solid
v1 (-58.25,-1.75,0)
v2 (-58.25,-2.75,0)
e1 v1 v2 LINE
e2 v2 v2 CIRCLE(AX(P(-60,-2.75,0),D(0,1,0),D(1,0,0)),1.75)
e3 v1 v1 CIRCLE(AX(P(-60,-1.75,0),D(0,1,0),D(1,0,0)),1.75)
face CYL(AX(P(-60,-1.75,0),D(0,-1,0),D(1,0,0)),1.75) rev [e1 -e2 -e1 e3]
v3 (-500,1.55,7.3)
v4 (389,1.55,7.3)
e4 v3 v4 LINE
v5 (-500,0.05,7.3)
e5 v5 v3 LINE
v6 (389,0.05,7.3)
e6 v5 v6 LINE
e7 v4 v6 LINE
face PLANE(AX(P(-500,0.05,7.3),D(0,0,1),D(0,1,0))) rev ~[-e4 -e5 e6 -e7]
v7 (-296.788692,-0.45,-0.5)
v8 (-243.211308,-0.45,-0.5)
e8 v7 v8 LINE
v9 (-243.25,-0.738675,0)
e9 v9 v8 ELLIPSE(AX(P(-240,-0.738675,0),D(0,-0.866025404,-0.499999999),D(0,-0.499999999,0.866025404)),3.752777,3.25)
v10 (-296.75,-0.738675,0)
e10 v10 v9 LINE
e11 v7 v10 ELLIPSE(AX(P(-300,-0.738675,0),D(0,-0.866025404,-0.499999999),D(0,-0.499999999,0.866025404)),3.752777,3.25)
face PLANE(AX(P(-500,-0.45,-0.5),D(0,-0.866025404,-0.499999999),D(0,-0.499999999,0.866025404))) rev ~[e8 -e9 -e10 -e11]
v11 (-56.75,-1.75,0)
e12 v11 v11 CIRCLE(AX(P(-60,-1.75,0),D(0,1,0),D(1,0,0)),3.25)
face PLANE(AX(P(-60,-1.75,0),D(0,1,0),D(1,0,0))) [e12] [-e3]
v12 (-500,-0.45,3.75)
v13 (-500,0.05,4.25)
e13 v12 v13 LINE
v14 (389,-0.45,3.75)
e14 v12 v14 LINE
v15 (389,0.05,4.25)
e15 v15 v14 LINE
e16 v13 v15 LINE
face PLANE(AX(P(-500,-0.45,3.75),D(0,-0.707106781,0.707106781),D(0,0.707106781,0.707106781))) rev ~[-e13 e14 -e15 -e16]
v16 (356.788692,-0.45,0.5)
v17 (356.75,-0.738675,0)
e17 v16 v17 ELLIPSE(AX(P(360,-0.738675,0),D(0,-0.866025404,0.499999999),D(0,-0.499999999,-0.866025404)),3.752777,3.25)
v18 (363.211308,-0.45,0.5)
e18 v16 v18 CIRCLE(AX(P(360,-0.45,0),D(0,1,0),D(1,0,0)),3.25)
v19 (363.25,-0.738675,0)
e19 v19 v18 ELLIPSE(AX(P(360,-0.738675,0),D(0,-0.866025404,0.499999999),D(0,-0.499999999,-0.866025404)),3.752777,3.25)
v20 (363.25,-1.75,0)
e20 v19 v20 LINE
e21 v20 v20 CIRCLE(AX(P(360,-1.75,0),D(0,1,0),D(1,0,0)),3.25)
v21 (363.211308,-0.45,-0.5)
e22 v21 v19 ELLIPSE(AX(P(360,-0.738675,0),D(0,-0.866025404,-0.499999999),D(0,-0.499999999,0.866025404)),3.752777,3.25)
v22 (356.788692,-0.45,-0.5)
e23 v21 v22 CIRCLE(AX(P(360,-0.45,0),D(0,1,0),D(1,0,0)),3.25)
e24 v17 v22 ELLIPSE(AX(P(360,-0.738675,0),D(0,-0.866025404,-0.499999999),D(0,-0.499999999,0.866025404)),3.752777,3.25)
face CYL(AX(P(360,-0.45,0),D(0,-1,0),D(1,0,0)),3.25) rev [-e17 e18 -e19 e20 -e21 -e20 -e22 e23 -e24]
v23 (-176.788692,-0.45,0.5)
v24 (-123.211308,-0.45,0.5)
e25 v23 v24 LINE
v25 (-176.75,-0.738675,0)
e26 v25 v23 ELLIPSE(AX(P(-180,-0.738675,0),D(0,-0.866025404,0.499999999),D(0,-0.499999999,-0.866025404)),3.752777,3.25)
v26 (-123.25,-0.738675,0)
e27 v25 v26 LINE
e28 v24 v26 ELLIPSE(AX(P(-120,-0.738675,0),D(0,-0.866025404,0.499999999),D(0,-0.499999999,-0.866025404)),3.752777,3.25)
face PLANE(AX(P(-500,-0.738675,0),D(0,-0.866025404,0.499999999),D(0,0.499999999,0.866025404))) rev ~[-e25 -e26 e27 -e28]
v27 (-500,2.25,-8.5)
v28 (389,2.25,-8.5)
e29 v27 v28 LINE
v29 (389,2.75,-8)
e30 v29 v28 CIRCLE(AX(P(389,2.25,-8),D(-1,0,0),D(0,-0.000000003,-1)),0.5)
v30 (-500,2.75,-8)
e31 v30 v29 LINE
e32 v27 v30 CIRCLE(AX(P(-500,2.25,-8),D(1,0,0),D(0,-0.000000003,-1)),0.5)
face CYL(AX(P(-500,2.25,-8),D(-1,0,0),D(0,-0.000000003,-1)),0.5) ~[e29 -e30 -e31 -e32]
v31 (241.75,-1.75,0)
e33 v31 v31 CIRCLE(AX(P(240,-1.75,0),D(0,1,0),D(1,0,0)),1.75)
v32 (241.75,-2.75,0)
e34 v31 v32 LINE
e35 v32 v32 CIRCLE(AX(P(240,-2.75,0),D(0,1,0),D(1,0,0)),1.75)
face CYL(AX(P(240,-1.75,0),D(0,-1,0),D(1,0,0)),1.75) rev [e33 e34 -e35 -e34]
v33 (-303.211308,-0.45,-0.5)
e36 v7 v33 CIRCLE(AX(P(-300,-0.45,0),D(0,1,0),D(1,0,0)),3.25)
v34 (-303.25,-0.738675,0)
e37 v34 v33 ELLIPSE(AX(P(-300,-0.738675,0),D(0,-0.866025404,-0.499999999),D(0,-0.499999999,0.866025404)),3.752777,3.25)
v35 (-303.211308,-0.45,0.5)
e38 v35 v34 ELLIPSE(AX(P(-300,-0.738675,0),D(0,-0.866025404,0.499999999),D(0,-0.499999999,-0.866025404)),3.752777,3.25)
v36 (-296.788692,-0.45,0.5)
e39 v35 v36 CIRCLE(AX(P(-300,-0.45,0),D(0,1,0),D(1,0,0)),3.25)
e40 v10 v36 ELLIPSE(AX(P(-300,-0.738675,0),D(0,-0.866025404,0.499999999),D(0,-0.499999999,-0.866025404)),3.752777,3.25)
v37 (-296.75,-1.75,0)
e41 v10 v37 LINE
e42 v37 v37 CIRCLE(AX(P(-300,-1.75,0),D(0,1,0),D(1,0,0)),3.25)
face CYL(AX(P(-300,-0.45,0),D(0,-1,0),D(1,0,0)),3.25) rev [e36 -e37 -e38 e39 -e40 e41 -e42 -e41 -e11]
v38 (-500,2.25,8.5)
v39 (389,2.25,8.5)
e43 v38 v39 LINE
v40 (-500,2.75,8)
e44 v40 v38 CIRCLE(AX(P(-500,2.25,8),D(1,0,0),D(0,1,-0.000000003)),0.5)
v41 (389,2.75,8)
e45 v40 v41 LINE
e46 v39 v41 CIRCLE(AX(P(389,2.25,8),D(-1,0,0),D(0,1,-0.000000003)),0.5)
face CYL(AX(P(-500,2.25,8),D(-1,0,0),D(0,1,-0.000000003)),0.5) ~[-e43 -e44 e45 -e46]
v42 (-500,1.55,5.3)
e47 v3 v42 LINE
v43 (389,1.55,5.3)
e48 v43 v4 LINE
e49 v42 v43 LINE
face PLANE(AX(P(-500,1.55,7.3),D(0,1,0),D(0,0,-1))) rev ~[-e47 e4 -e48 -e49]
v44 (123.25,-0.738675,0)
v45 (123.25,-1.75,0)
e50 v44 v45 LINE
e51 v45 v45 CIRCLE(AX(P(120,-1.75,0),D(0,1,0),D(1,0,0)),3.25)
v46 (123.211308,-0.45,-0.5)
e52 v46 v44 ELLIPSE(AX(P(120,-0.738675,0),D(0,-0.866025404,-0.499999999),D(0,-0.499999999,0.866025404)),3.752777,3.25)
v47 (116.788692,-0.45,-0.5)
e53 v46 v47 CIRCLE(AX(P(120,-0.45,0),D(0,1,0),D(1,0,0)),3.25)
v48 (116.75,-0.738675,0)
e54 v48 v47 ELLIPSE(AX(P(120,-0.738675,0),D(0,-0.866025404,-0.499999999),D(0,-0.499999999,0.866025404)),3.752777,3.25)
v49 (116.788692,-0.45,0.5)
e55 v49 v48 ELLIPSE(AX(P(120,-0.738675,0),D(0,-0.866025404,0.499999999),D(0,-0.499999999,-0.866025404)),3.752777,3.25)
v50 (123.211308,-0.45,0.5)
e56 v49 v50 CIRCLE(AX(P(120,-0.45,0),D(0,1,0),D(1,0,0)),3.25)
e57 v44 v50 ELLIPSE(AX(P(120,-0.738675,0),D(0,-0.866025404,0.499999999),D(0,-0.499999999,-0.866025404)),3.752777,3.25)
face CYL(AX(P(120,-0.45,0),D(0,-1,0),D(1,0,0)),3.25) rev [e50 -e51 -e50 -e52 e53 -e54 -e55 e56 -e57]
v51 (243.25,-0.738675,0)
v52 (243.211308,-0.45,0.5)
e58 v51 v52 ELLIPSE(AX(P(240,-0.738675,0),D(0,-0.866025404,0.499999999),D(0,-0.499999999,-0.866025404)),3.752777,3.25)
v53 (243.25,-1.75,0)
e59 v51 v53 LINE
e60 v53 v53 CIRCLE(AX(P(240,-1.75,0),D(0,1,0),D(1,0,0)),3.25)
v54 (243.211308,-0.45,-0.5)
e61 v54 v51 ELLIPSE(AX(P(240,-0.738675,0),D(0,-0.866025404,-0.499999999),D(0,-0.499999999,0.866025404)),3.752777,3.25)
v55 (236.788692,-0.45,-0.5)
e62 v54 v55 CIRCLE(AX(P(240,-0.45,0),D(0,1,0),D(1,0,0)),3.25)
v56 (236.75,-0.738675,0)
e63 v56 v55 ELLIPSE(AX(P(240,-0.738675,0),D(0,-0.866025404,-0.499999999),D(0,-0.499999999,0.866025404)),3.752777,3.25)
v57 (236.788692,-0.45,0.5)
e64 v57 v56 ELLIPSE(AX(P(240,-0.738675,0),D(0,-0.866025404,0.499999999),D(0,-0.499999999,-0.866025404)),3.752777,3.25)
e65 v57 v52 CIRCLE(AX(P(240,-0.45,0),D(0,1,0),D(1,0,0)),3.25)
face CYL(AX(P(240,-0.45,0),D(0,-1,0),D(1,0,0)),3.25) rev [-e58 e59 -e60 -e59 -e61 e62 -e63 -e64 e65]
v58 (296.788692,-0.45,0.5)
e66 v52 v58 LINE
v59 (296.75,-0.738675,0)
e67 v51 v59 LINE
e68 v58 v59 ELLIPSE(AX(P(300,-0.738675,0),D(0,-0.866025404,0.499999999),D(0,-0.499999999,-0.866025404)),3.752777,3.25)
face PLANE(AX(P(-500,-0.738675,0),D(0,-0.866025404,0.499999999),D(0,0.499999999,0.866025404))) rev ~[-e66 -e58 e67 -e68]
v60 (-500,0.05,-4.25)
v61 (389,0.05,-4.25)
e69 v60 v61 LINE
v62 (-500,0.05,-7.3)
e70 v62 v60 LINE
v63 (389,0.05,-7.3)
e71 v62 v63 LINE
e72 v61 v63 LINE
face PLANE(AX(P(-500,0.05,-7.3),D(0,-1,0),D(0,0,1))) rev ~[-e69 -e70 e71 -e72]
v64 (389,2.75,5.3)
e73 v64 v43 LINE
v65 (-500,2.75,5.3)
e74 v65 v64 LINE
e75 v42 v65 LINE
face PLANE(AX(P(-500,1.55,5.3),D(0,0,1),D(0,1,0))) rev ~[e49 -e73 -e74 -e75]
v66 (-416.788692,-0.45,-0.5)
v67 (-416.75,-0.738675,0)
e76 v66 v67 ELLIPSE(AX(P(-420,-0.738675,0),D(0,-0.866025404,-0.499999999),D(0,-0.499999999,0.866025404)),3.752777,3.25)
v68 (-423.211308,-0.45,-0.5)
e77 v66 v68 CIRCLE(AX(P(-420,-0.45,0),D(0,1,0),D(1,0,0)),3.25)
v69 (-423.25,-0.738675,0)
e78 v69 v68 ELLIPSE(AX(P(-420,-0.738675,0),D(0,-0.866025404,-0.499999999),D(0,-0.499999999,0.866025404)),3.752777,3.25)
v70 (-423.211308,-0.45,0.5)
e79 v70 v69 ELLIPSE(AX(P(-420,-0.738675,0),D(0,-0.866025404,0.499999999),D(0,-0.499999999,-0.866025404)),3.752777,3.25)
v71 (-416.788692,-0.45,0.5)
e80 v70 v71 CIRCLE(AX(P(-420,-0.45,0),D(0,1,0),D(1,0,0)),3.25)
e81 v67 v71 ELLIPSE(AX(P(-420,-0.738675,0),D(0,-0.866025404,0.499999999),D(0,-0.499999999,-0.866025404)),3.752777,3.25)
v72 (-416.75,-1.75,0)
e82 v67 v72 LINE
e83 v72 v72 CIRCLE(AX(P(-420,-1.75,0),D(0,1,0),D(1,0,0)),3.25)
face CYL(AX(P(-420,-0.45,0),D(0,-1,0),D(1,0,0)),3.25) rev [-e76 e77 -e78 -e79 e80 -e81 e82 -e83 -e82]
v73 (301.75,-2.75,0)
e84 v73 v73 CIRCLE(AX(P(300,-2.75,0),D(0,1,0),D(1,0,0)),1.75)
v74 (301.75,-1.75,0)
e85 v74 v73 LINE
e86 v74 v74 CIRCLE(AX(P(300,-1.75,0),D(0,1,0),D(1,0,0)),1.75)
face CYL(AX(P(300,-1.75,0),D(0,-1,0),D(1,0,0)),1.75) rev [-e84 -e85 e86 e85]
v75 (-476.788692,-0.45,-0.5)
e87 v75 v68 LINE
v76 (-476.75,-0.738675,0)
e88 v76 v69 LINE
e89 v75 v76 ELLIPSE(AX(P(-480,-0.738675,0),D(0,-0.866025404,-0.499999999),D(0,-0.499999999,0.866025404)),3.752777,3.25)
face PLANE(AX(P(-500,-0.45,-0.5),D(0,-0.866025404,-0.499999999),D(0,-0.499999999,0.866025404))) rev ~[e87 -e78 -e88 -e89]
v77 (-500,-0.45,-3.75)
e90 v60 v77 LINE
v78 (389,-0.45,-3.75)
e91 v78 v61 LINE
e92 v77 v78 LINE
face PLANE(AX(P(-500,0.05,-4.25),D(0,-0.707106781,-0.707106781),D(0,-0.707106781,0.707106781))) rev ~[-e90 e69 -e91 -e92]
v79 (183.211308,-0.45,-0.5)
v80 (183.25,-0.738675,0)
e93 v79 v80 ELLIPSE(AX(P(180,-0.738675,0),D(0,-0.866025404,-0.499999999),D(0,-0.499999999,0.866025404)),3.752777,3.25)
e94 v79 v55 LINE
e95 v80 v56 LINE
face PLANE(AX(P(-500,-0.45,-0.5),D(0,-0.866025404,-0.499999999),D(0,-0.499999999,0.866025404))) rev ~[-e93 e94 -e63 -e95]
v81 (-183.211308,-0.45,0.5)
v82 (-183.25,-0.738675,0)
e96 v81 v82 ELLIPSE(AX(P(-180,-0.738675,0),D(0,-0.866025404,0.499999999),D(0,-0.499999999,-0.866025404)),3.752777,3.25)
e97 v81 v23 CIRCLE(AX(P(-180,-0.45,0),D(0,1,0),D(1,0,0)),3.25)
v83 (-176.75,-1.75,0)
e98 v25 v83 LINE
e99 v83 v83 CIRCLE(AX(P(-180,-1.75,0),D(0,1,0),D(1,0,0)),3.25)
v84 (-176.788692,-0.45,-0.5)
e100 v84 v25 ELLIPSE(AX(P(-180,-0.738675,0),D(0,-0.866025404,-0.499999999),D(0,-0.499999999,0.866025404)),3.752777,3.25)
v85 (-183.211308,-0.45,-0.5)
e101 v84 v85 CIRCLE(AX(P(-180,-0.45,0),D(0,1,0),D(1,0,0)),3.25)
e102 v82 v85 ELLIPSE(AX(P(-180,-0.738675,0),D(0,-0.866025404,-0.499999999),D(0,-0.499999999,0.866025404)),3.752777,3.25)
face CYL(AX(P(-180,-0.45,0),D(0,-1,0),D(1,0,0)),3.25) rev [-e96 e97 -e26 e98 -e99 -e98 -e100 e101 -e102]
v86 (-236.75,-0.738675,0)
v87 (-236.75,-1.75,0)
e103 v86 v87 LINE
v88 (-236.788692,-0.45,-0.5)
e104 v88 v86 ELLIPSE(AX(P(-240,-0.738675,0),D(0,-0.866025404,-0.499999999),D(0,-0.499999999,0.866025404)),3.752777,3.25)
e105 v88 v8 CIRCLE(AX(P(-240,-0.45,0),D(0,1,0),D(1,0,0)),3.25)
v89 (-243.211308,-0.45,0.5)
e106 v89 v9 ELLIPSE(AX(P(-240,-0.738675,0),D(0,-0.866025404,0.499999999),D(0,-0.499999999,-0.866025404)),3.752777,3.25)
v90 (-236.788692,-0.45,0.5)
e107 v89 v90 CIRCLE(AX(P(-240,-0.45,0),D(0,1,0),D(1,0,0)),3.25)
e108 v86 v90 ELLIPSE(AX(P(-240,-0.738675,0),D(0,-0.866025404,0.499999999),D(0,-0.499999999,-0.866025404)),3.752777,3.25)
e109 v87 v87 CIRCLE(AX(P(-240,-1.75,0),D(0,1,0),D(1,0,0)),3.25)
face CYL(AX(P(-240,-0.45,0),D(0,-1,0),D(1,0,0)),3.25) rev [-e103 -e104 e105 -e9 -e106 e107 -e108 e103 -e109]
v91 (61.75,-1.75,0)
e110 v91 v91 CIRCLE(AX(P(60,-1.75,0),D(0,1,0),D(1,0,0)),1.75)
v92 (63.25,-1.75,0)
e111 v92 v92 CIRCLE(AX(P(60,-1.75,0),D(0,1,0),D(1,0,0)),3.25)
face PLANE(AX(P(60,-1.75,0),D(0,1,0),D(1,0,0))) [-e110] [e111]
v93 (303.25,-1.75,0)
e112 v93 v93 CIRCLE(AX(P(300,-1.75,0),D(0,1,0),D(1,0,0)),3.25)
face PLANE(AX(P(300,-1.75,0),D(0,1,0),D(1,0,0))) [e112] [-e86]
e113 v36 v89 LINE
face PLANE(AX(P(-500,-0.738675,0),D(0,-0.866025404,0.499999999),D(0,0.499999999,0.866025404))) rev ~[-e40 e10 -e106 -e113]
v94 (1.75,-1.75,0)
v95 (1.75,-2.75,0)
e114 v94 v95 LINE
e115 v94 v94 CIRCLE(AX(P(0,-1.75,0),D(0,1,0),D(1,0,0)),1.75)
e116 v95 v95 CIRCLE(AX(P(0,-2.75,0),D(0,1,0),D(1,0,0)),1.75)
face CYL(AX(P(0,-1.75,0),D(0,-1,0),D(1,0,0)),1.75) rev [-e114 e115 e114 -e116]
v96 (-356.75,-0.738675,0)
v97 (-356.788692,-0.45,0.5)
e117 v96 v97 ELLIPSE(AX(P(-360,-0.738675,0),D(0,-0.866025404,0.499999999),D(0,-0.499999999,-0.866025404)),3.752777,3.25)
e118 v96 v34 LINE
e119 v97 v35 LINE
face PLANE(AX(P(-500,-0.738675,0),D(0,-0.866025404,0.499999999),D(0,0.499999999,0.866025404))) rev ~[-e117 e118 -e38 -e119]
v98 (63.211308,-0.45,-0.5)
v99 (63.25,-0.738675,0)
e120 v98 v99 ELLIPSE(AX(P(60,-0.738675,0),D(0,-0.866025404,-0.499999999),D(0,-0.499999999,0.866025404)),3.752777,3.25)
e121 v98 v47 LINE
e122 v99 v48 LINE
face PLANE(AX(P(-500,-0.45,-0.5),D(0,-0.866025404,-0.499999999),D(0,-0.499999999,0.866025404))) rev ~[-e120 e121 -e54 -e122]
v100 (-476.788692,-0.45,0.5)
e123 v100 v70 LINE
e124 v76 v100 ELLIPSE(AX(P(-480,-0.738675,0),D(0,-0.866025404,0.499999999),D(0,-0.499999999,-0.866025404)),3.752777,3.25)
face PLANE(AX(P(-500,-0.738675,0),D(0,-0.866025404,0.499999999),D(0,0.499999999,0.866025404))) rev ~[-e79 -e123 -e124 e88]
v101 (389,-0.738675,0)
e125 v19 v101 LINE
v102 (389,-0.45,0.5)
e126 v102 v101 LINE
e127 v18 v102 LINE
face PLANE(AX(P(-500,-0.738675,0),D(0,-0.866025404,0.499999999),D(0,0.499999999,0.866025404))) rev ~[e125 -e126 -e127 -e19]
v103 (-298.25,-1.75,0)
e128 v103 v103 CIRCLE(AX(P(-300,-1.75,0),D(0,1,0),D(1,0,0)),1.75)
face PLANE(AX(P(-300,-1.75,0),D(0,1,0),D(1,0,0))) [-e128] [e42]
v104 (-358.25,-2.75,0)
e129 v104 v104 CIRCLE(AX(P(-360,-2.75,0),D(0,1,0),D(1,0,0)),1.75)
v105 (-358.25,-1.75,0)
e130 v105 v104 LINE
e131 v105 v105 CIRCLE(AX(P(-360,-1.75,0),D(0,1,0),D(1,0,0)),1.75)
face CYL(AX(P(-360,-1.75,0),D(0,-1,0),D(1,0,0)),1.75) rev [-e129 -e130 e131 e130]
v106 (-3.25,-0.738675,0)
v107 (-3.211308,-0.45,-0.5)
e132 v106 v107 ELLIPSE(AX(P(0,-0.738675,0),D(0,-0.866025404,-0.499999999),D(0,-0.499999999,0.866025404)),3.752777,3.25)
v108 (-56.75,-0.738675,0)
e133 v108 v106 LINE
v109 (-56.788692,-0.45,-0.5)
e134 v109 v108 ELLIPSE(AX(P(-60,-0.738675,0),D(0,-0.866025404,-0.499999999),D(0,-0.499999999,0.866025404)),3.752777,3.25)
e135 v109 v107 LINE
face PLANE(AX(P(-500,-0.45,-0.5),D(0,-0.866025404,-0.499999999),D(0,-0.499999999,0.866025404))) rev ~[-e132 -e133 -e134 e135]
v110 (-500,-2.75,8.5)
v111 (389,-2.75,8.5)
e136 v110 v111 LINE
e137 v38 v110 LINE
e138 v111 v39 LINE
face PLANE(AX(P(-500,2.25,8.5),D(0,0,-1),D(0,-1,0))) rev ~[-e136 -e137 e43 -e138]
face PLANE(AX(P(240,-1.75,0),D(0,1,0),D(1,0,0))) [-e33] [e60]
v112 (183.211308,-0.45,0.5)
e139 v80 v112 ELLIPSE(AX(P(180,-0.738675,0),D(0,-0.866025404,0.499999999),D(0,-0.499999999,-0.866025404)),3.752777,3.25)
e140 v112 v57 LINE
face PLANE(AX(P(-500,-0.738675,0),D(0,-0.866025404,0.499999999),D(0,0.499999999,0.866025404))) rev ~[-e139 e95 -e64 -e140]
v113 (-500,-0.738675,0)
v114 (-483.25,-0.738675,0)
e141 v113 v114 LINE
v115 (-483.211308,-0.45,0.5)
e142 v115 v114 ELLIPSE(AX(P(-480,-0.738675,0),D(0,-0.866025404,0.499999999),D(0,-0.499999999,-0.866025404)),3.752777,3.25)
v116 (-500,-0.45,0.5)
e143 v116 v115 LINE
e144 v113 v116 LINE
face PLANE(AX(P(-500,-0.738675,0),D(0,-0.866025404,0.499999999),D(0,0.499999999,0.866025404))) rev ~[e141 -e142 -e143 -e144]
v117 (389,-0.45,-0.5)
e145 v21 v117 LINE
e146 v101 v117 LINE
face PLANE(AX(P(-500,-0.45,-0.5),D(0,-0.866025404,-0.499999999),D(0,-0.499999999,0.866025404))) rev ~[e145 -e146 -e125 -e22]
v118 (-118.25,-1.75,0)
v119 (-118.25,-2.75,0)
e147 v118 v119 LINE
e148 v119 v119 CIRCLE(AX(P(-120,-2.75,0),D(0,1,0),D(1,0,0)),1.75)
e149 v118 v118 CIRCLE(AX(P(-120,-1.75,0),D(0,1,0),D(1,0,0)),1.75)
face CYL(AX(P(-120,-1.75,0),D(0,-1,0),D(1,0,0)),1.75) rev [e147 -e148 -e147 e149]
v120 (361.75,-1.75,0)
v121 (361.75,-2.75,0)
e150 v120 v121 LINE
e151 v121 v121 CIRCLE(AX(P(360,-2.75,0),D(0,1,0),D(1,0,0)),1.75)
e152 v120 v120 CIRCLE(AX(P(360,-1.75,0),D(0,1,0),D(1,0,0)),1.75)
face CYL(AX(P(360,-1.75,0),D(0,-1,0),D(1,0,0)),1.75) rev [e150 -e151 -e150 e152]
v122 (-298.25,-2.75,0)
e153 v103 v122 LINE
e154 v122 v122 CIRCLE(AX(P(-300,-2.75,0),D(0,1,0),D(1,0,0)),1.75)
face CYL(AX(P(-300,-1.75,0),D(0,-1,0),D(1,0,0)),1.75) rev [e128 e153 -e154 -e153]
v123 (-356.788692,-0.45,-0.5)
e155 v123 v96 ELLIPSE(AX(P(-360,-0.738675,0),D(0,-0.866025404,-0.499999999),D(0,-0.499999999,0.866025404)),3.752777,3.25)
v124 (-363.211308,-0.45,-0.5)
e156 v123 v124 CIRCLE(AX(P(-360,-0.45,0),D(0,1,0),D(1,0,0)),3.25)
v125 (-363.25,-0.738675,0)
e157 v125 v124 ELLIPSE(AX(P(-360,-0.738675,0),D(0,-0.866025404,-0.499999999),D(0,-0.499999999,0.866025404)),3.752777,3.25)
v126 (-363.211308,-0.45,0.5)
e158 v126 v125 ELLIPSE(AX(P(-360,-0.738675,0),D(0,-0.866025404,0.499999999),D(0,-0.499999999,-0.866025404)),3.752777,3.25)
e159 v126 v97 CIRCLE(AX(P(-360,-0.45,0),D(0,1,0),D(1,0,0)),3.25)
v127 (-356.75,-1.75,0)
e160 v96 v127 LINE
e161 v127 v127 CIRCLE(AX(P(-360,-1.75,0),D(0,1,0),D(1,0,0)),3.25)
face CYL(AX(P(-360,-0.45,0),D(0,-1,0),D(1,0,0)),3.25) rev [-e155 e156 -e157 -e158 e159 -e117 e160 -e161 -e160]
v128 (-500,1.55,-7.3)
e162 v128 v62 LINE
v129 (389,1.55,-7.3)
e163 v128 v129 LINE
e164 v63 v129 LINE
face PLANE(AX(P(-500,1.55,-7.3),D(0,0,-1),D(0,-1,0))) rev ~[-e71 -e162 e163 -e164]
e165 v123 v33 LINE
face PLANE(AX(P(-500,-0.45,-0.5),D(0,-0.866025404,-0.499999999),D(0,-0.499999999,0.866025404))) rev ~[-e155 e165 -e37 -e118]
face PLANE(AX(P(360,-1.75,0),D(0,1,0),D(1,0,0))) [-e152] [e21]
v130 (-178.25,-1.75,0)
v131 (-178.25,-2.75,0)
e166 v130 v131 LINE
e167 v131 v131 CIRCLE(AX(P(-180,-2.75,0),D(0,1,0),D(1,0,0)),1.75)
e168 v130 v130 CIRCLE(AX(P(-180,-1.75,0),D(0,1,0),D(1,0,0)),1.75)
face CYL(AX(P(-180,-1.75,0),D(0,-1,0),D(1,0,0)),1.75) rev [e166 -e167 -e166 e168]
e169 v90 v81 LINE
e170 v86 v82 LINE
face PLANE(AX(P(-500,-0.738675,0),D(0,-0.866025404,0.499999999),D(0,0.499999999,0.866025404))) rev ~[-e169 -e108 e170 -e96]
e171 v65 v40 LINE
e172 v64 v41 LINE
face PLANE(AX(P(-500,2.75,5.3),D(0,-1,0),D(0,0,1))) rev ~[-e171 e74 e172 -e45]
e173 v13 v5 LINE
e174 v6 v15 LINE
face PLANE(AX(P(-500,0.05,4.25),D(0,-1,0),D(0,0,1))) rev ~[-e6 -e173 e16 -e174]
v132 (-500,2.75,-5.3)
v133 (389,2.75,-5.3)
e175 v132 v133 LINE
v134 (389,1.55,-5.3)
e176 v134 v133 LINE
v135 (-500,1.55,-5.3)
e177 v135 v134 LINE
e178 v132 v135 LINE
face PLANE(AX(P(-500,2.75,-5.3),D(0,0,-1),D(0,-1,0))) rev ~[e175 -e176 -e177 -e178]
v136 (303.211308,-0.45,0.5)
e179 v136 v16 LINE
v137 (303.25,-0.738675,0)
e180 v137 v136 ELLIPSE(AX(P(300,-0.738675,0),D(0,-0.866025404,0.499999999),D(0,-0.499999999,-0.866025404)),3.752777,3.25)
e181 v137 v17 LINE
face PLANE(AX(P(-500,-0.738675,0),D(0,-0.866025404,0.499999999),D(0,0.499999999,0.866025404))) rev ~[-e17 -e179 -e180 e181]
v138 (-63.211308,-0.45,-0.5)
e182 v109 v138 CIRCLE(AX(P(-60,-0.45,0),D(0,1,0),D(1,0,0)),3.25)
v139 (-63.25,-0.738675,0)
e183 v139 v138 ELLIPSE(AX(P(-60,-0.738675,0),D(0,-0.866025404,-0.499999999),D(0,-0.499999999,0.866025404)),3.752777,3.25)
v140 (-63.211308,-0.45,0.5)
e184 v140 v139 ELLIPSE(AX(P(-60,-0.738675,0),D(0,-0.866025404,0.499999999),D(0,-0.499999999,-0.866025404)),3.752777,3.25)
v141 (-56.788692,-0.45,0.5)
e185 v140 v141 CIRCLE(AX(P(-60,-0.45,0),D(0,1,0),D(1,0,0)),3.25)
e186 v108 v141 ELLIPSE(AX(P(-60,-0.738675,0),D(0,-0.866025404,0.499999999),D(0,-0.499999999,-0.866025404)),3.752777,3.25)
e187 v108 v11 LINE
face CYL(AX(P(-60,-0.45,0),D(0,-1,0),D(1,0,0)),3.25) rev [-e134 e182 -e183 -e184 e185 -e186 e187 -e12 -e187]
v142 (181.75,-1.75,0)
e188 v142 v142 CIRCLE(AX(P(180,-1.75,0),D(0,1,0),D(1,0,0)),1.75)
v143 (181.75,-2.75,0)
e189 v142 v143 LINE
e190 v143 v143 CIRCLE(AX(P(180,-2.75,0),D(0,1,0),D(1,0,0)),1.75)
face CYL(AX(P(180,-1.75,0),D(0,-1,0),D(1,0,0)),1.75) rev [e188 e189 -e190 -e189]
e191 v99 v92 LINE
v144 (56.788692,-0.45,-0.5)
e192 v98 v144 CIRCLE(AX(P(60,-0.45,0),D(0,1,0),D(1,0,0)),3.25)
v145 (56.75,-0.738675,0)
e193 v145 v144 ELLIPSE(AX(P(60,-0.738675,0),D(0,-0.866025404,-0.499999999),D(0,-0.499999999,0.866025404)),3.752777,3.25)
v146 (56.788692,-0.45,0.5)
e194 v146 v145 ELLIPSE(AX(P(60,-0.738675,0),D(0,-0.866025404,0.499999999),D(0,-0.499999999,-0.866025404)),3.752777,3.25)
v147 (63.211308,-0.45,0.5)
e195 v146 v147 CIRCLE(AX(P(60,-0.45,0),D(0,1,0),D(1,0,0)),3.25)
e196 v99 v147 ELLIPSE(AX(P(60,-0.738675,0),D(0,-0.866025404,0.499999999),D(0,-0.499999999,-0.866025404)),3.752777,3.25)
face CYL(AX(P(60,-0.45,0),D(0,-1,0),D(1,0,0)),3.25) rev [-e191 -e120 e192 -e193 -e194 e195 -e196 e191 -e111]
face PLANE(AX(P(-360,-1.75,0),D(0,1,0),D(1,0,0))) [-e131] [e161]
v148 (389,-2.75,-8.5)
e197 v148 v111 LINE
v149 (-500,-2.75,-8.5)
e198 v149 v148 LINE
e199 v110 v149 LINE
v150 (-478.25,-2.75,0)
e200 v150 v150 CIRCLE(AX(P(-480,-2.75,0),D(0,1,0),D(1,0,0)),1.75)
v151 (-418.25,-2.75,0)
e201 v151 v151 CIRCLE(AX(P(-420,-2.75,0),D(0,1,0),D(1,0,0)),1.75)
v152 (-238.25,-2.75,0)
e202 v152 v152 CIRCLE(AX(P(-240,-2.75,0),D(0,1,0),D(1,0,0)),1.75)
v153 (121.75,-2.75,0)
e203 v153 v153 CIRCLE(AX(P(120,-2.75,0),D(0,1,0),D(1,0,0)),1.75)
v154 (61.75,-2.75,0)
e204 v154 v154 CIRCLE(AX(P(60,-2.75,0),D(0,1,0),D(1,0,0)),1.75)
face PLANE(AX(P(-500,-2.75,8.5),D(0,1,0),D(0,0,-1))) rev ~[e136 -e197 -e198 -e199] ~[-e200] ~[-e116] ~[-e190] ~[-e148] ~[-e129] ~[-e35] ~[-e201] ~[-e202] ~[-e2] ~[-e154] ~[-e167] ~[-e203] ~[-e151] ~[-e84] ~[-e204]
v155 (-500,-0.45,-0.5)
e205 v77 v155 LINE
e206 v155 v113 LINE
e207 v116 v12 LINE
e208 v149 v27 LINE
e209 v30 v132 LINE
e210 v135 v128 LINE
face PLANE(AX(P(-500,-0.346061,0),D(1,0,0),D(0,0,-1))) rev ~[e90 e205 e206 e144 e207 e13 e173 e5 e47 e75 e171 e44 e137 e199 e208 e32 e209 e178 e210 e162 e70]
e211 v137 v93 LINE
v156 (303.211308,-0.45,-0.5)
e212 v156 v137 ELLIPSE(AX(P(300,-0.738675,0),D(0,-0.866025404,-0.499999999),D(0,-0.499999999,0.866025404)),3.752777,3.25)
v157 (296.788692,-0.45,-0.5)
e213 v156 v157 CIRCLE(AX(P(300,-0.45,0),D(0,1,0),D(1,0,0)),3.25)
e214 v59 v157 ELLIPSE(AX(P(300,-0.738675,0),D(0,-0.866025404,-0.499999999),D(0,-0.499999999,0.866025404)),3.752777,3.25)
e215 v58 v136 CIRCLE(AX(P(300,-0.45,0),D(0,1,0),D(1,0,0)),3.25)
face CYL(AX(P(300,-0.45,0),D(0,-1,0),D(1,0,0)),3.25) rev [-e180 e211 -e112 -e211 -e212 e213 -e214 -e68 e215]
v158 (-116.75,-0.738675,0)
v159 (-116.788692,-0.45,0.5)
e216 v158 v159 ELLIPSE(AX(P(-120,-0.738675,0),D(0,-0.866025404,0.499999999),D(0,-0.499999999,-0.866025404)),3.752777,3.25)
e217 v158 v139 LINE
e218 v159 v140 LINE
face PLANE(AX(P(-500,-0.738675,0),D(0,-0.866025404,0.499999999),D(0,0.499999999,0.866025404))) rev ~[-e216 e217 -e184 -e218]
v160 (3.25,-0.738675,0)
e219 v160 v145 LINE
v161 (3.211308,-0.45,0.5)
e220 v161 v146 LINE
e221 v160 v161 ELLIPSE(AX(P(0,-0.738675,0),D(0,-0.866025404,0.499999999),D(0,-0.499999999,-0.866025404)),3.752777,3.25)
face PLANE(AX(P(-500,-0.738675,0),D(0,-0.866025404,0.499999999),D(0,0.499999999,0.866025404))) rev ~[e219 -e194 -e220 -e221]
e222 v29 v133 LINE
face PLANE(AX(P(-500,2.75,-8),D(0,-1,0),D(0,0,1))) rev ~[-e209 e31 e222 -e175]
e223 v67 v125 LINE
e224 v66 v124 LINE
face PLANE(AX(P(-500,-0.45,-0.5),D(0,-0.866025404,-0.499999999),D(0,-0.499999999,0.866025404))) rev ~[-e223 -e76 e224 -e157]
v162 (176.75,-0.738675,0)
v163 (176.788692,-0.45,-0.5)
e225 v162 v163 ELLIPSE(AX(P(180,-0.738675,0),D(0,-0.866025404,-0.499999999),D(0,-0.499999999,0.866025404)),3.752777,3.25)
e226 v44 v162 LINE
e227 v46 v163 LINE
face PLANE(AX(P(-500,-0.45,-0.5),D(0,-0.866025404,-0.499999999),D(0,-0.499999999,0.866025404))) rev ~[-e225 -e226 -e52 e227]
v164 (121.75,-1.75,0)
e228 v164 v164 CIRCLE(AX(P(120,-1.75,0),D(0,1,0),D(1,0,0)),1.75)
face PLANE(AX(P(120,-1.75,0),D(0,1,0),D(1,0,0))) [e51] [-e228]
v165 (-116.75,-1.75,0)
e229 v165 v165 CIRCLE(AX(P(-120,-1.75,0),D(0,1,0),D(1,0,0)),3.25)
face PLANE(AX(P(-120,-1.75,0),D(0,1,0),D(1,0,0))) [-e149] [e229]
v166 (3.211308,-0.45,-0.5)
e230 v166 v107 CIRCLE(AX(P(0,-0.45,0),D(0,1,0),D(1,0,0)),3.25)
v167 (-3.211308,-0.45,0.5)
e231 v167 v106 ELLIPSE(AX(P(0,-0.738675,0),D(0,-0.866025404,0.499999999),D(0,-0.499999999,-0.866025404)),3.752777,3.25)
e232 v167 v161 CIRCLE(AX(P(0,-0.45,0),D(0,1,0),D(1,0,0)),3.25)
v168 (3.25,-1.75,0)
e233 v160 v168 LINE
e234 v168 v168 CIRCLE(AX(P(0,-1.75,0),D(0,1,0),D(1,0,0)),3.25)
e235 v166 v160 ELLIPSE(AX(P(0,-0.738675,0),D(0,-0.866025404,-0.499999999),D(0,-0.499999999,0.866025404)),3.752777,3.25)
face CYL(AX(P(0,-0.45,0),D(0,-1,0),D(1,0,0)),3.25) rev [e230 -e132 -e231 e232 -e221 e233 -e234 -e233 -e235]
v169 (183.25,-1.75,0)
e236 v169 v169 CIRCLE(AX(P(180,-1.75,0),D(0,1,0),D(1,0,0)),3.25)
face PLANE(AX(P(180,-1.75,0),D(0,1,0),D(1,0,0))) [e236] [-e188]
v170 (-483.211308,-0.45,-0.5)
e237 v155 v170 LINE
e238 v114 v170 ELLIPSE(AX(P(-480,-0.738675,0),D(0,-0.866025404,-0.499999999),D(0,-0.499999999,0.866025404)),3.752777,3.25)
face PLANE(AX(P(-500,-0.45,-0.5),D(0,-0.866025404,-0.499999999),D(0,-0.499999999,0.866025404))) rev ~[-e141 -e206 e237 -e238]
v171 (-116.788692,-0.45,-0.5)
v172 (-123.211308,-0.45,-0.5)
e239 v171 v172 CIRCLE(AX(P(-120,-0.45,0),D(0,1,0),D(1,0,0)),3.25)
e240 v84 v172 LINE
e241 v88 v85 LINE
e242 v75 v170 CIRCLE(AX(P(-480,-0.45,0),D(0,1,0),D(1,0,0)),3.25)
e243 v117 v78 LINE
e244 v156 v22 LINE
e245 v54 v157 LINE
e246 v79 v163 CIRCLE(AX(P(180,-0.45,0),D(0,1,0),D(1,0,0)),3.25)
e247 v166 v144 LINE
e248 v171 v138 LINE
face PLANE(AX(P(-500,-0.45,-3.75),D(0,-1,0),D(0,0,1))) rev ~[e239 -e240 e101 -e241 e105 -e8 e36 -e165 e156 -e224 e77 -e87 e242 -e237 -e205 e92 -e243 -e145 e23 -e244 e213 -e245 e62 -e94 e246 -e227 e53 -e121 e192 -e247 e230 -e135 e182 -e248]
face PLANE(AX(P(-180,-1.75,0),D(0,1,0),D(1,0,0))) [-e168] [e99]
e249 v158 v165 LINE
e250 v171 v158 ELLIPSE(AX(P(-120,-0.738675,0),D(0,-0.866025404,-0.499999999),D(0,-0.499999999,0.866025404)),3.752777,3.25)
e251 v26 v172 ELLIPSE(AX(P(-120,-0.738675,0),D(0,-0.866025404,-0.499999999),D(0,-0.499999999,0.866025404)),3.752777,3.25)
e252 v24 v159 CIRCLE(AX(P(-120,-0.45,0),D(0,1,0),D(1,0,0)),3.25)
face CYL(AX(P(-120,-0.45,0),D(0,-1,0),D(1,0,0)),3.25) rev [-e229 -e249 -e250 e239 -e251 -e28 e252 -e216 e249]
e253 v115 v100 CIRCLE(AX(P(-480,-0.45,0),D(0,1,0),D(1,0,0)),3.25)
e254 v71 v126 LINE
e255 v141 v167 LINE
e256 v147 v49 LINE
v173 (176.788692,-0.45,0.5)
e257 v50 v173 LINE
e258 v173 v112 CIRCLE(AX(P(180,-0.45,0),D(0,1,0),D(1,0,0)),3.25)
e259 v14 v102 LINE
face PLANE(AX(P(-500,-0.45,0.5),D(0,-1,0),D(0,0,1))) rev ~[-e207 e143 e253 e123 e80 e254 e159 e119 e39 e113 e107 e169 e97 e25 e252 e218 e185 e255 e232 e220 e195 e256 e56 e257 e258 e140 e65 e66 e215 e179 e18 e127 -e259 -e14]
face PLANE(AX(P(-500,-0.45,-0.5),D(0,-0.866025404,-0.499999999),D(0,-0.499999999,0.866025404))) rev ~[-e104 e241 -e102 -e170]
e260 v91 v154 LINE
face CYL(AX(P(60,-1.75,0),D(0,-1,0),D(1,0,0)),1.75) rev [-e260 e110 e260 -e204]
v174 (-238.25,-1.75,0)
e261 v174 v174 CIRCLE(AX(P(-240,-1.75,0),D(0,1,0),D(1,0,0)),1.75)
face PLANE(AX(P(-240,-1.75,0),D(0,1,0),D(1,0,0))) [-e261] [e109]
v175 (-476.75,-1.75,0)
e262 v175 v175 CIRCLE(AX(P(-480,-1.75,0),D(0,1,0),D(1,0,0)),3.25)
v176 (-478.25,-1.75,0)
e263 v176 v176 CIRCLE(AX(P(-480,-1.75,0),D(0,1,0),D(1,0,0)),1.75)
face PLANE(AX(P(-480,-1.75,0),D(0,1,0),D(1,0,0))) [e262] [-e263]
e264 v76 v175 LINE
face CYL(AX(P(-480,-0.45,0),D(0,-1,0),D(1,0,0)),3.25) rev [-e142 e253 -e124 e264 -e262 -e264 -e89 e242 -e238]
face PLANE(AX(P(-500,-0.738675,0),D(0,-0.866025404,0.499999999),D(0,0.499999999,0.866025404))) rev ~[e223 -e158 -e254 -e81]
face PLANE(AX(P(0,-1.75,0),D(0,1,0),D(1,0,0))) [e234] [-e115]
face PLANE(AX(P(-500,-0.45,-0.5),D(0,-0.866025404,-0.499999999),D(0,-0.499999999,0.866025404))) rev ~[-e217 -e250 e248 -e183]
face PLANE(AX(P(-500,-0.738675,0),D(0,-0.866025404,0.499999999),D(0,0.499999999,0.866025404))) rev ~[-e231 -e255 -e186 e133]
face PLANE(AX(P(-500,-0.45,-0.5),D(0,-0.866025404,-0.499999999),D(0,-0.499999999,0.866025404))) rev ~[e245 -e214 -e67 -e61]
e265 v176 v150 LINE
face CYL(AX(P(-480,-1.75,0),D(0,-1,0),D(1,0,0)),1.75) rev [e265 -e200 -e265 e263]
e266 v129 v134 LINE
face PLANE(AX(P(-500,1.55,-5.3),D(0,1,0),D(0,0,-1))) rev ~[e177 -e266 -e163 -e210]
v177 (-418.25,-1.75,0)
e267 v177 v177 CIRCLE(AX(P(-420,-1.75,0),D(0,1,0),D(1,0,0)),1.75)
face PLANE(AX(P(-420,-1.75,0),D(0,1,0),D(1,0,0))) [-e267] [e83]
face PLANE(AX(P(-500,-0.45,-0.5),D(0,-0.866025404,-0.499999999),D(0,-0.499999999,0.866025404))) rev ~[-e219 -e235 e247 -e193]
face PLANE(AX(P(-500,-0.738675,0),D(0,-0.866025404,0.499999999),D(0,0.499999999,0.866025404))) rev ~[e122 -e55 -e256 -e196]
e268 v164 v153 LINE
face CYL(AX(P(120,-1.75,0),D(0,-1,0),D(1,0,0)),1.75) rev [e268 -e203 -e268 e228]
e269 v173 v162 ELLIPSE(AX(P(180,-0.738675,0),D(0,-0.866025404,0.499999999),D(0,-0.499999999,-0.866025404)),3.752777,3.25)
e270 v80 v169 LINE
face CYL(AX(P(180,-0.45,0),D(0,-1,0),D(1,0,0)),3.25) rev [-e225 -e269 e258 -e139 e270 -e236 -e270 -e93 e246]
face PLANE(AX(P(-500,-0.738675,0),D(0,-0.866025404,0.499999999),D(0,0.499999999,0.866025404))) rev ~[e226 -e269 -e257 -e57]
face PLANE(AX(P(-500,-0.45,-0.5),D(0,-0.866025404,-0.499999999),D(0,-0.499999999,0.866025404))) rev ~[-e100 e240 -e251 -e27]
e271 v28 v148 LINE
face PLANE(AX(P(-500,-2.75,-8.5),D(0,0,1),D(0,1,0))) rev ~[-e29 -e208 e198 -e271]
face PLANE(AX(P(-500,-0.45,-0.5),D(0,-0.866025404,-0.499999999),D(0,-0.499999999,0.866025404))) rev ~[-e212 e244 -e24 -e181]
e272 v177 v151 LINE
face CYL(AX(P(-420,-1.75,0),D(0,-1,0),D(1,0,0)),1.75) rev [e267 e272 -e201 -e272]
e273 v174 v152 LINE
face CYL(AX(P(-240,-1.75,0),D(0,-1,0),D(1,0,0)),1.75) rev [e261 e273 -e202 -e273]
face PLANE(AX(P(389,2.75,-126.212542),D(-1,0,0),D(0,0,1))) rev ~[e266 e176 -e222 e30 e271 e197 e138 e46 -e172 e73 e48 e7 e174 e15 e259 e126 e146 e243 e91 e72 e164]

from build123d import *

# Parameters (mm, degrees)
BOSS_EXTRUDE1_DEPTH      = 500
BOSS_EXTRUDE1_DEPTH_BACK = 500
LPATTERN1_COUNT          = 17
LPATTERN1_PITCH          = 60
SKETCH6_W                = 111
SKETCH6_H                = 2.7
CUT_EXTRUDE1_DEPTH       = 501.102489496


with BuildPart() as part:
    # Sketch5 → Boss-Extrude1 (new, two sides: drawn at the far end of the back side and taken through both)
    with BuildSketch(Plane(origin=(0, 0, 0), x_dir=(0, 0, -1), z_dir=(1, 0, 0)).offset(-BOSS_EXTRUDE1_DEPTH_BACK)):
        with BuildLine():
            Line((-8.499999996, -2.75), (8.499999996, -2.75))
            Line((8.499999996, -2.75), (8.499999996, 2.25))
            ThreePointArc((8.499999996, 2.25), (8.353553387, 2.603553391), (7.999999996, 2.75))
            Line((7.999999996, 2.75), (5.299999996, 2.75))
            Line((5.299999996, 2.75), (5.299999996, 1.55))
            Line((5.299999996, 1.55), (7.299999998, 1.55))
            Line((7.299999998, 1.55), (7.299999998, 0.05))
            Line((7.299999998, 0.05), (4.249999998, 0.05))
            Line((4.249999998, 0.05), (3.749999998, -0.45))
            Line((3.749999998, -0.45), (0.499999998, -0.45))
            Line((0.499999998, -0.45), (0, -0.738675133))
            Line((0, -0.738675133), (-0.499999998, -0.45))
            Line((-0.499999998, -0.45), (-3.749999998, -0.45))
            Line((-3.749999998, -0.45), (-4.249999998, 0.05))
            Line((-4.249999998, 0.05), (-7.299999998, 0.05))
            Line((-7.299999998, 0.05), (-7.299999998, 1.55))
            Line((-7.299999998, 1.55), (-5.299999996, 1.55))
            Line((-5.299999996, 1.55), (-5.299999996, 2.75))
            Line((-5.299999996, 2.75), (-7.999999996, 2.75))
            ThreePointArc((-7.999999996, 2.75), (-8.353553387, 2.603553391), (-8.499999996, 2.25))
            Line((-8.499999996, 2.25), (-8.499999996, -2.75))
        make_face()
    extrude(amount=BOSS_EXTRUDE1_DEPTH + BOSS_EXTRUDE1_DEPTH_BACK)

    # Sketch3 → Cut-Revolve1 (revolve, cut)
    with BuildSketch(Plane.XY, mode=Mode.PRIVATE) as cut_revolve1_sk:
        Polygon((-483.25, -0.45), (-483.25, -1.75), (-481.75, -1.75), (-481.75, -2.75), (-480, -2.75), (-480, -0.45), align=None)
    cut_revolve1 = revolve(cut_revolve1_sk.sketch.rotate(Axis((-480, -2.75, 0), (0, 1, 0)), 180), axis=Axis((-480, -2.75, 0), (0, 1, 0)), mode=Mode.SUBTRACT)

    # LPattern1: Cut-Revolve1 ×17
    with Locations(*[(i * LPATTERN1_PITCH, 0, 0) for i in range(1, LPATTERN1_COUNT)]):
        add(cut_revolve1, mode=Mode.SUBTRACT)

    # Sketch6 → Cut-Extrude1 (cut, through all)
    with BuildSketch(Plane(origin=(0, 2.75, 0), x_dir=(1, 0, 0), z_dir=(0, 1, 0))):
        Polygon((389, 126.212542349), (389, 8.499999996), (389, 7.999999996), (500, 7.999999996), (500, 5.299999996), (389, 5.299999996), (389, -102.065679631), (557.848580128, -102.065679631), (557.848580128, 126.212542349), align=None)
        with Locations((444.5, 6.649999996)):
            Rectangle(SKETCH6_W, SKETCH6_H)
    extrude(amount=-CUT_EXTRUDE1_DEPTH, mode=Mode.SUBTRACT)


solid = part.part
